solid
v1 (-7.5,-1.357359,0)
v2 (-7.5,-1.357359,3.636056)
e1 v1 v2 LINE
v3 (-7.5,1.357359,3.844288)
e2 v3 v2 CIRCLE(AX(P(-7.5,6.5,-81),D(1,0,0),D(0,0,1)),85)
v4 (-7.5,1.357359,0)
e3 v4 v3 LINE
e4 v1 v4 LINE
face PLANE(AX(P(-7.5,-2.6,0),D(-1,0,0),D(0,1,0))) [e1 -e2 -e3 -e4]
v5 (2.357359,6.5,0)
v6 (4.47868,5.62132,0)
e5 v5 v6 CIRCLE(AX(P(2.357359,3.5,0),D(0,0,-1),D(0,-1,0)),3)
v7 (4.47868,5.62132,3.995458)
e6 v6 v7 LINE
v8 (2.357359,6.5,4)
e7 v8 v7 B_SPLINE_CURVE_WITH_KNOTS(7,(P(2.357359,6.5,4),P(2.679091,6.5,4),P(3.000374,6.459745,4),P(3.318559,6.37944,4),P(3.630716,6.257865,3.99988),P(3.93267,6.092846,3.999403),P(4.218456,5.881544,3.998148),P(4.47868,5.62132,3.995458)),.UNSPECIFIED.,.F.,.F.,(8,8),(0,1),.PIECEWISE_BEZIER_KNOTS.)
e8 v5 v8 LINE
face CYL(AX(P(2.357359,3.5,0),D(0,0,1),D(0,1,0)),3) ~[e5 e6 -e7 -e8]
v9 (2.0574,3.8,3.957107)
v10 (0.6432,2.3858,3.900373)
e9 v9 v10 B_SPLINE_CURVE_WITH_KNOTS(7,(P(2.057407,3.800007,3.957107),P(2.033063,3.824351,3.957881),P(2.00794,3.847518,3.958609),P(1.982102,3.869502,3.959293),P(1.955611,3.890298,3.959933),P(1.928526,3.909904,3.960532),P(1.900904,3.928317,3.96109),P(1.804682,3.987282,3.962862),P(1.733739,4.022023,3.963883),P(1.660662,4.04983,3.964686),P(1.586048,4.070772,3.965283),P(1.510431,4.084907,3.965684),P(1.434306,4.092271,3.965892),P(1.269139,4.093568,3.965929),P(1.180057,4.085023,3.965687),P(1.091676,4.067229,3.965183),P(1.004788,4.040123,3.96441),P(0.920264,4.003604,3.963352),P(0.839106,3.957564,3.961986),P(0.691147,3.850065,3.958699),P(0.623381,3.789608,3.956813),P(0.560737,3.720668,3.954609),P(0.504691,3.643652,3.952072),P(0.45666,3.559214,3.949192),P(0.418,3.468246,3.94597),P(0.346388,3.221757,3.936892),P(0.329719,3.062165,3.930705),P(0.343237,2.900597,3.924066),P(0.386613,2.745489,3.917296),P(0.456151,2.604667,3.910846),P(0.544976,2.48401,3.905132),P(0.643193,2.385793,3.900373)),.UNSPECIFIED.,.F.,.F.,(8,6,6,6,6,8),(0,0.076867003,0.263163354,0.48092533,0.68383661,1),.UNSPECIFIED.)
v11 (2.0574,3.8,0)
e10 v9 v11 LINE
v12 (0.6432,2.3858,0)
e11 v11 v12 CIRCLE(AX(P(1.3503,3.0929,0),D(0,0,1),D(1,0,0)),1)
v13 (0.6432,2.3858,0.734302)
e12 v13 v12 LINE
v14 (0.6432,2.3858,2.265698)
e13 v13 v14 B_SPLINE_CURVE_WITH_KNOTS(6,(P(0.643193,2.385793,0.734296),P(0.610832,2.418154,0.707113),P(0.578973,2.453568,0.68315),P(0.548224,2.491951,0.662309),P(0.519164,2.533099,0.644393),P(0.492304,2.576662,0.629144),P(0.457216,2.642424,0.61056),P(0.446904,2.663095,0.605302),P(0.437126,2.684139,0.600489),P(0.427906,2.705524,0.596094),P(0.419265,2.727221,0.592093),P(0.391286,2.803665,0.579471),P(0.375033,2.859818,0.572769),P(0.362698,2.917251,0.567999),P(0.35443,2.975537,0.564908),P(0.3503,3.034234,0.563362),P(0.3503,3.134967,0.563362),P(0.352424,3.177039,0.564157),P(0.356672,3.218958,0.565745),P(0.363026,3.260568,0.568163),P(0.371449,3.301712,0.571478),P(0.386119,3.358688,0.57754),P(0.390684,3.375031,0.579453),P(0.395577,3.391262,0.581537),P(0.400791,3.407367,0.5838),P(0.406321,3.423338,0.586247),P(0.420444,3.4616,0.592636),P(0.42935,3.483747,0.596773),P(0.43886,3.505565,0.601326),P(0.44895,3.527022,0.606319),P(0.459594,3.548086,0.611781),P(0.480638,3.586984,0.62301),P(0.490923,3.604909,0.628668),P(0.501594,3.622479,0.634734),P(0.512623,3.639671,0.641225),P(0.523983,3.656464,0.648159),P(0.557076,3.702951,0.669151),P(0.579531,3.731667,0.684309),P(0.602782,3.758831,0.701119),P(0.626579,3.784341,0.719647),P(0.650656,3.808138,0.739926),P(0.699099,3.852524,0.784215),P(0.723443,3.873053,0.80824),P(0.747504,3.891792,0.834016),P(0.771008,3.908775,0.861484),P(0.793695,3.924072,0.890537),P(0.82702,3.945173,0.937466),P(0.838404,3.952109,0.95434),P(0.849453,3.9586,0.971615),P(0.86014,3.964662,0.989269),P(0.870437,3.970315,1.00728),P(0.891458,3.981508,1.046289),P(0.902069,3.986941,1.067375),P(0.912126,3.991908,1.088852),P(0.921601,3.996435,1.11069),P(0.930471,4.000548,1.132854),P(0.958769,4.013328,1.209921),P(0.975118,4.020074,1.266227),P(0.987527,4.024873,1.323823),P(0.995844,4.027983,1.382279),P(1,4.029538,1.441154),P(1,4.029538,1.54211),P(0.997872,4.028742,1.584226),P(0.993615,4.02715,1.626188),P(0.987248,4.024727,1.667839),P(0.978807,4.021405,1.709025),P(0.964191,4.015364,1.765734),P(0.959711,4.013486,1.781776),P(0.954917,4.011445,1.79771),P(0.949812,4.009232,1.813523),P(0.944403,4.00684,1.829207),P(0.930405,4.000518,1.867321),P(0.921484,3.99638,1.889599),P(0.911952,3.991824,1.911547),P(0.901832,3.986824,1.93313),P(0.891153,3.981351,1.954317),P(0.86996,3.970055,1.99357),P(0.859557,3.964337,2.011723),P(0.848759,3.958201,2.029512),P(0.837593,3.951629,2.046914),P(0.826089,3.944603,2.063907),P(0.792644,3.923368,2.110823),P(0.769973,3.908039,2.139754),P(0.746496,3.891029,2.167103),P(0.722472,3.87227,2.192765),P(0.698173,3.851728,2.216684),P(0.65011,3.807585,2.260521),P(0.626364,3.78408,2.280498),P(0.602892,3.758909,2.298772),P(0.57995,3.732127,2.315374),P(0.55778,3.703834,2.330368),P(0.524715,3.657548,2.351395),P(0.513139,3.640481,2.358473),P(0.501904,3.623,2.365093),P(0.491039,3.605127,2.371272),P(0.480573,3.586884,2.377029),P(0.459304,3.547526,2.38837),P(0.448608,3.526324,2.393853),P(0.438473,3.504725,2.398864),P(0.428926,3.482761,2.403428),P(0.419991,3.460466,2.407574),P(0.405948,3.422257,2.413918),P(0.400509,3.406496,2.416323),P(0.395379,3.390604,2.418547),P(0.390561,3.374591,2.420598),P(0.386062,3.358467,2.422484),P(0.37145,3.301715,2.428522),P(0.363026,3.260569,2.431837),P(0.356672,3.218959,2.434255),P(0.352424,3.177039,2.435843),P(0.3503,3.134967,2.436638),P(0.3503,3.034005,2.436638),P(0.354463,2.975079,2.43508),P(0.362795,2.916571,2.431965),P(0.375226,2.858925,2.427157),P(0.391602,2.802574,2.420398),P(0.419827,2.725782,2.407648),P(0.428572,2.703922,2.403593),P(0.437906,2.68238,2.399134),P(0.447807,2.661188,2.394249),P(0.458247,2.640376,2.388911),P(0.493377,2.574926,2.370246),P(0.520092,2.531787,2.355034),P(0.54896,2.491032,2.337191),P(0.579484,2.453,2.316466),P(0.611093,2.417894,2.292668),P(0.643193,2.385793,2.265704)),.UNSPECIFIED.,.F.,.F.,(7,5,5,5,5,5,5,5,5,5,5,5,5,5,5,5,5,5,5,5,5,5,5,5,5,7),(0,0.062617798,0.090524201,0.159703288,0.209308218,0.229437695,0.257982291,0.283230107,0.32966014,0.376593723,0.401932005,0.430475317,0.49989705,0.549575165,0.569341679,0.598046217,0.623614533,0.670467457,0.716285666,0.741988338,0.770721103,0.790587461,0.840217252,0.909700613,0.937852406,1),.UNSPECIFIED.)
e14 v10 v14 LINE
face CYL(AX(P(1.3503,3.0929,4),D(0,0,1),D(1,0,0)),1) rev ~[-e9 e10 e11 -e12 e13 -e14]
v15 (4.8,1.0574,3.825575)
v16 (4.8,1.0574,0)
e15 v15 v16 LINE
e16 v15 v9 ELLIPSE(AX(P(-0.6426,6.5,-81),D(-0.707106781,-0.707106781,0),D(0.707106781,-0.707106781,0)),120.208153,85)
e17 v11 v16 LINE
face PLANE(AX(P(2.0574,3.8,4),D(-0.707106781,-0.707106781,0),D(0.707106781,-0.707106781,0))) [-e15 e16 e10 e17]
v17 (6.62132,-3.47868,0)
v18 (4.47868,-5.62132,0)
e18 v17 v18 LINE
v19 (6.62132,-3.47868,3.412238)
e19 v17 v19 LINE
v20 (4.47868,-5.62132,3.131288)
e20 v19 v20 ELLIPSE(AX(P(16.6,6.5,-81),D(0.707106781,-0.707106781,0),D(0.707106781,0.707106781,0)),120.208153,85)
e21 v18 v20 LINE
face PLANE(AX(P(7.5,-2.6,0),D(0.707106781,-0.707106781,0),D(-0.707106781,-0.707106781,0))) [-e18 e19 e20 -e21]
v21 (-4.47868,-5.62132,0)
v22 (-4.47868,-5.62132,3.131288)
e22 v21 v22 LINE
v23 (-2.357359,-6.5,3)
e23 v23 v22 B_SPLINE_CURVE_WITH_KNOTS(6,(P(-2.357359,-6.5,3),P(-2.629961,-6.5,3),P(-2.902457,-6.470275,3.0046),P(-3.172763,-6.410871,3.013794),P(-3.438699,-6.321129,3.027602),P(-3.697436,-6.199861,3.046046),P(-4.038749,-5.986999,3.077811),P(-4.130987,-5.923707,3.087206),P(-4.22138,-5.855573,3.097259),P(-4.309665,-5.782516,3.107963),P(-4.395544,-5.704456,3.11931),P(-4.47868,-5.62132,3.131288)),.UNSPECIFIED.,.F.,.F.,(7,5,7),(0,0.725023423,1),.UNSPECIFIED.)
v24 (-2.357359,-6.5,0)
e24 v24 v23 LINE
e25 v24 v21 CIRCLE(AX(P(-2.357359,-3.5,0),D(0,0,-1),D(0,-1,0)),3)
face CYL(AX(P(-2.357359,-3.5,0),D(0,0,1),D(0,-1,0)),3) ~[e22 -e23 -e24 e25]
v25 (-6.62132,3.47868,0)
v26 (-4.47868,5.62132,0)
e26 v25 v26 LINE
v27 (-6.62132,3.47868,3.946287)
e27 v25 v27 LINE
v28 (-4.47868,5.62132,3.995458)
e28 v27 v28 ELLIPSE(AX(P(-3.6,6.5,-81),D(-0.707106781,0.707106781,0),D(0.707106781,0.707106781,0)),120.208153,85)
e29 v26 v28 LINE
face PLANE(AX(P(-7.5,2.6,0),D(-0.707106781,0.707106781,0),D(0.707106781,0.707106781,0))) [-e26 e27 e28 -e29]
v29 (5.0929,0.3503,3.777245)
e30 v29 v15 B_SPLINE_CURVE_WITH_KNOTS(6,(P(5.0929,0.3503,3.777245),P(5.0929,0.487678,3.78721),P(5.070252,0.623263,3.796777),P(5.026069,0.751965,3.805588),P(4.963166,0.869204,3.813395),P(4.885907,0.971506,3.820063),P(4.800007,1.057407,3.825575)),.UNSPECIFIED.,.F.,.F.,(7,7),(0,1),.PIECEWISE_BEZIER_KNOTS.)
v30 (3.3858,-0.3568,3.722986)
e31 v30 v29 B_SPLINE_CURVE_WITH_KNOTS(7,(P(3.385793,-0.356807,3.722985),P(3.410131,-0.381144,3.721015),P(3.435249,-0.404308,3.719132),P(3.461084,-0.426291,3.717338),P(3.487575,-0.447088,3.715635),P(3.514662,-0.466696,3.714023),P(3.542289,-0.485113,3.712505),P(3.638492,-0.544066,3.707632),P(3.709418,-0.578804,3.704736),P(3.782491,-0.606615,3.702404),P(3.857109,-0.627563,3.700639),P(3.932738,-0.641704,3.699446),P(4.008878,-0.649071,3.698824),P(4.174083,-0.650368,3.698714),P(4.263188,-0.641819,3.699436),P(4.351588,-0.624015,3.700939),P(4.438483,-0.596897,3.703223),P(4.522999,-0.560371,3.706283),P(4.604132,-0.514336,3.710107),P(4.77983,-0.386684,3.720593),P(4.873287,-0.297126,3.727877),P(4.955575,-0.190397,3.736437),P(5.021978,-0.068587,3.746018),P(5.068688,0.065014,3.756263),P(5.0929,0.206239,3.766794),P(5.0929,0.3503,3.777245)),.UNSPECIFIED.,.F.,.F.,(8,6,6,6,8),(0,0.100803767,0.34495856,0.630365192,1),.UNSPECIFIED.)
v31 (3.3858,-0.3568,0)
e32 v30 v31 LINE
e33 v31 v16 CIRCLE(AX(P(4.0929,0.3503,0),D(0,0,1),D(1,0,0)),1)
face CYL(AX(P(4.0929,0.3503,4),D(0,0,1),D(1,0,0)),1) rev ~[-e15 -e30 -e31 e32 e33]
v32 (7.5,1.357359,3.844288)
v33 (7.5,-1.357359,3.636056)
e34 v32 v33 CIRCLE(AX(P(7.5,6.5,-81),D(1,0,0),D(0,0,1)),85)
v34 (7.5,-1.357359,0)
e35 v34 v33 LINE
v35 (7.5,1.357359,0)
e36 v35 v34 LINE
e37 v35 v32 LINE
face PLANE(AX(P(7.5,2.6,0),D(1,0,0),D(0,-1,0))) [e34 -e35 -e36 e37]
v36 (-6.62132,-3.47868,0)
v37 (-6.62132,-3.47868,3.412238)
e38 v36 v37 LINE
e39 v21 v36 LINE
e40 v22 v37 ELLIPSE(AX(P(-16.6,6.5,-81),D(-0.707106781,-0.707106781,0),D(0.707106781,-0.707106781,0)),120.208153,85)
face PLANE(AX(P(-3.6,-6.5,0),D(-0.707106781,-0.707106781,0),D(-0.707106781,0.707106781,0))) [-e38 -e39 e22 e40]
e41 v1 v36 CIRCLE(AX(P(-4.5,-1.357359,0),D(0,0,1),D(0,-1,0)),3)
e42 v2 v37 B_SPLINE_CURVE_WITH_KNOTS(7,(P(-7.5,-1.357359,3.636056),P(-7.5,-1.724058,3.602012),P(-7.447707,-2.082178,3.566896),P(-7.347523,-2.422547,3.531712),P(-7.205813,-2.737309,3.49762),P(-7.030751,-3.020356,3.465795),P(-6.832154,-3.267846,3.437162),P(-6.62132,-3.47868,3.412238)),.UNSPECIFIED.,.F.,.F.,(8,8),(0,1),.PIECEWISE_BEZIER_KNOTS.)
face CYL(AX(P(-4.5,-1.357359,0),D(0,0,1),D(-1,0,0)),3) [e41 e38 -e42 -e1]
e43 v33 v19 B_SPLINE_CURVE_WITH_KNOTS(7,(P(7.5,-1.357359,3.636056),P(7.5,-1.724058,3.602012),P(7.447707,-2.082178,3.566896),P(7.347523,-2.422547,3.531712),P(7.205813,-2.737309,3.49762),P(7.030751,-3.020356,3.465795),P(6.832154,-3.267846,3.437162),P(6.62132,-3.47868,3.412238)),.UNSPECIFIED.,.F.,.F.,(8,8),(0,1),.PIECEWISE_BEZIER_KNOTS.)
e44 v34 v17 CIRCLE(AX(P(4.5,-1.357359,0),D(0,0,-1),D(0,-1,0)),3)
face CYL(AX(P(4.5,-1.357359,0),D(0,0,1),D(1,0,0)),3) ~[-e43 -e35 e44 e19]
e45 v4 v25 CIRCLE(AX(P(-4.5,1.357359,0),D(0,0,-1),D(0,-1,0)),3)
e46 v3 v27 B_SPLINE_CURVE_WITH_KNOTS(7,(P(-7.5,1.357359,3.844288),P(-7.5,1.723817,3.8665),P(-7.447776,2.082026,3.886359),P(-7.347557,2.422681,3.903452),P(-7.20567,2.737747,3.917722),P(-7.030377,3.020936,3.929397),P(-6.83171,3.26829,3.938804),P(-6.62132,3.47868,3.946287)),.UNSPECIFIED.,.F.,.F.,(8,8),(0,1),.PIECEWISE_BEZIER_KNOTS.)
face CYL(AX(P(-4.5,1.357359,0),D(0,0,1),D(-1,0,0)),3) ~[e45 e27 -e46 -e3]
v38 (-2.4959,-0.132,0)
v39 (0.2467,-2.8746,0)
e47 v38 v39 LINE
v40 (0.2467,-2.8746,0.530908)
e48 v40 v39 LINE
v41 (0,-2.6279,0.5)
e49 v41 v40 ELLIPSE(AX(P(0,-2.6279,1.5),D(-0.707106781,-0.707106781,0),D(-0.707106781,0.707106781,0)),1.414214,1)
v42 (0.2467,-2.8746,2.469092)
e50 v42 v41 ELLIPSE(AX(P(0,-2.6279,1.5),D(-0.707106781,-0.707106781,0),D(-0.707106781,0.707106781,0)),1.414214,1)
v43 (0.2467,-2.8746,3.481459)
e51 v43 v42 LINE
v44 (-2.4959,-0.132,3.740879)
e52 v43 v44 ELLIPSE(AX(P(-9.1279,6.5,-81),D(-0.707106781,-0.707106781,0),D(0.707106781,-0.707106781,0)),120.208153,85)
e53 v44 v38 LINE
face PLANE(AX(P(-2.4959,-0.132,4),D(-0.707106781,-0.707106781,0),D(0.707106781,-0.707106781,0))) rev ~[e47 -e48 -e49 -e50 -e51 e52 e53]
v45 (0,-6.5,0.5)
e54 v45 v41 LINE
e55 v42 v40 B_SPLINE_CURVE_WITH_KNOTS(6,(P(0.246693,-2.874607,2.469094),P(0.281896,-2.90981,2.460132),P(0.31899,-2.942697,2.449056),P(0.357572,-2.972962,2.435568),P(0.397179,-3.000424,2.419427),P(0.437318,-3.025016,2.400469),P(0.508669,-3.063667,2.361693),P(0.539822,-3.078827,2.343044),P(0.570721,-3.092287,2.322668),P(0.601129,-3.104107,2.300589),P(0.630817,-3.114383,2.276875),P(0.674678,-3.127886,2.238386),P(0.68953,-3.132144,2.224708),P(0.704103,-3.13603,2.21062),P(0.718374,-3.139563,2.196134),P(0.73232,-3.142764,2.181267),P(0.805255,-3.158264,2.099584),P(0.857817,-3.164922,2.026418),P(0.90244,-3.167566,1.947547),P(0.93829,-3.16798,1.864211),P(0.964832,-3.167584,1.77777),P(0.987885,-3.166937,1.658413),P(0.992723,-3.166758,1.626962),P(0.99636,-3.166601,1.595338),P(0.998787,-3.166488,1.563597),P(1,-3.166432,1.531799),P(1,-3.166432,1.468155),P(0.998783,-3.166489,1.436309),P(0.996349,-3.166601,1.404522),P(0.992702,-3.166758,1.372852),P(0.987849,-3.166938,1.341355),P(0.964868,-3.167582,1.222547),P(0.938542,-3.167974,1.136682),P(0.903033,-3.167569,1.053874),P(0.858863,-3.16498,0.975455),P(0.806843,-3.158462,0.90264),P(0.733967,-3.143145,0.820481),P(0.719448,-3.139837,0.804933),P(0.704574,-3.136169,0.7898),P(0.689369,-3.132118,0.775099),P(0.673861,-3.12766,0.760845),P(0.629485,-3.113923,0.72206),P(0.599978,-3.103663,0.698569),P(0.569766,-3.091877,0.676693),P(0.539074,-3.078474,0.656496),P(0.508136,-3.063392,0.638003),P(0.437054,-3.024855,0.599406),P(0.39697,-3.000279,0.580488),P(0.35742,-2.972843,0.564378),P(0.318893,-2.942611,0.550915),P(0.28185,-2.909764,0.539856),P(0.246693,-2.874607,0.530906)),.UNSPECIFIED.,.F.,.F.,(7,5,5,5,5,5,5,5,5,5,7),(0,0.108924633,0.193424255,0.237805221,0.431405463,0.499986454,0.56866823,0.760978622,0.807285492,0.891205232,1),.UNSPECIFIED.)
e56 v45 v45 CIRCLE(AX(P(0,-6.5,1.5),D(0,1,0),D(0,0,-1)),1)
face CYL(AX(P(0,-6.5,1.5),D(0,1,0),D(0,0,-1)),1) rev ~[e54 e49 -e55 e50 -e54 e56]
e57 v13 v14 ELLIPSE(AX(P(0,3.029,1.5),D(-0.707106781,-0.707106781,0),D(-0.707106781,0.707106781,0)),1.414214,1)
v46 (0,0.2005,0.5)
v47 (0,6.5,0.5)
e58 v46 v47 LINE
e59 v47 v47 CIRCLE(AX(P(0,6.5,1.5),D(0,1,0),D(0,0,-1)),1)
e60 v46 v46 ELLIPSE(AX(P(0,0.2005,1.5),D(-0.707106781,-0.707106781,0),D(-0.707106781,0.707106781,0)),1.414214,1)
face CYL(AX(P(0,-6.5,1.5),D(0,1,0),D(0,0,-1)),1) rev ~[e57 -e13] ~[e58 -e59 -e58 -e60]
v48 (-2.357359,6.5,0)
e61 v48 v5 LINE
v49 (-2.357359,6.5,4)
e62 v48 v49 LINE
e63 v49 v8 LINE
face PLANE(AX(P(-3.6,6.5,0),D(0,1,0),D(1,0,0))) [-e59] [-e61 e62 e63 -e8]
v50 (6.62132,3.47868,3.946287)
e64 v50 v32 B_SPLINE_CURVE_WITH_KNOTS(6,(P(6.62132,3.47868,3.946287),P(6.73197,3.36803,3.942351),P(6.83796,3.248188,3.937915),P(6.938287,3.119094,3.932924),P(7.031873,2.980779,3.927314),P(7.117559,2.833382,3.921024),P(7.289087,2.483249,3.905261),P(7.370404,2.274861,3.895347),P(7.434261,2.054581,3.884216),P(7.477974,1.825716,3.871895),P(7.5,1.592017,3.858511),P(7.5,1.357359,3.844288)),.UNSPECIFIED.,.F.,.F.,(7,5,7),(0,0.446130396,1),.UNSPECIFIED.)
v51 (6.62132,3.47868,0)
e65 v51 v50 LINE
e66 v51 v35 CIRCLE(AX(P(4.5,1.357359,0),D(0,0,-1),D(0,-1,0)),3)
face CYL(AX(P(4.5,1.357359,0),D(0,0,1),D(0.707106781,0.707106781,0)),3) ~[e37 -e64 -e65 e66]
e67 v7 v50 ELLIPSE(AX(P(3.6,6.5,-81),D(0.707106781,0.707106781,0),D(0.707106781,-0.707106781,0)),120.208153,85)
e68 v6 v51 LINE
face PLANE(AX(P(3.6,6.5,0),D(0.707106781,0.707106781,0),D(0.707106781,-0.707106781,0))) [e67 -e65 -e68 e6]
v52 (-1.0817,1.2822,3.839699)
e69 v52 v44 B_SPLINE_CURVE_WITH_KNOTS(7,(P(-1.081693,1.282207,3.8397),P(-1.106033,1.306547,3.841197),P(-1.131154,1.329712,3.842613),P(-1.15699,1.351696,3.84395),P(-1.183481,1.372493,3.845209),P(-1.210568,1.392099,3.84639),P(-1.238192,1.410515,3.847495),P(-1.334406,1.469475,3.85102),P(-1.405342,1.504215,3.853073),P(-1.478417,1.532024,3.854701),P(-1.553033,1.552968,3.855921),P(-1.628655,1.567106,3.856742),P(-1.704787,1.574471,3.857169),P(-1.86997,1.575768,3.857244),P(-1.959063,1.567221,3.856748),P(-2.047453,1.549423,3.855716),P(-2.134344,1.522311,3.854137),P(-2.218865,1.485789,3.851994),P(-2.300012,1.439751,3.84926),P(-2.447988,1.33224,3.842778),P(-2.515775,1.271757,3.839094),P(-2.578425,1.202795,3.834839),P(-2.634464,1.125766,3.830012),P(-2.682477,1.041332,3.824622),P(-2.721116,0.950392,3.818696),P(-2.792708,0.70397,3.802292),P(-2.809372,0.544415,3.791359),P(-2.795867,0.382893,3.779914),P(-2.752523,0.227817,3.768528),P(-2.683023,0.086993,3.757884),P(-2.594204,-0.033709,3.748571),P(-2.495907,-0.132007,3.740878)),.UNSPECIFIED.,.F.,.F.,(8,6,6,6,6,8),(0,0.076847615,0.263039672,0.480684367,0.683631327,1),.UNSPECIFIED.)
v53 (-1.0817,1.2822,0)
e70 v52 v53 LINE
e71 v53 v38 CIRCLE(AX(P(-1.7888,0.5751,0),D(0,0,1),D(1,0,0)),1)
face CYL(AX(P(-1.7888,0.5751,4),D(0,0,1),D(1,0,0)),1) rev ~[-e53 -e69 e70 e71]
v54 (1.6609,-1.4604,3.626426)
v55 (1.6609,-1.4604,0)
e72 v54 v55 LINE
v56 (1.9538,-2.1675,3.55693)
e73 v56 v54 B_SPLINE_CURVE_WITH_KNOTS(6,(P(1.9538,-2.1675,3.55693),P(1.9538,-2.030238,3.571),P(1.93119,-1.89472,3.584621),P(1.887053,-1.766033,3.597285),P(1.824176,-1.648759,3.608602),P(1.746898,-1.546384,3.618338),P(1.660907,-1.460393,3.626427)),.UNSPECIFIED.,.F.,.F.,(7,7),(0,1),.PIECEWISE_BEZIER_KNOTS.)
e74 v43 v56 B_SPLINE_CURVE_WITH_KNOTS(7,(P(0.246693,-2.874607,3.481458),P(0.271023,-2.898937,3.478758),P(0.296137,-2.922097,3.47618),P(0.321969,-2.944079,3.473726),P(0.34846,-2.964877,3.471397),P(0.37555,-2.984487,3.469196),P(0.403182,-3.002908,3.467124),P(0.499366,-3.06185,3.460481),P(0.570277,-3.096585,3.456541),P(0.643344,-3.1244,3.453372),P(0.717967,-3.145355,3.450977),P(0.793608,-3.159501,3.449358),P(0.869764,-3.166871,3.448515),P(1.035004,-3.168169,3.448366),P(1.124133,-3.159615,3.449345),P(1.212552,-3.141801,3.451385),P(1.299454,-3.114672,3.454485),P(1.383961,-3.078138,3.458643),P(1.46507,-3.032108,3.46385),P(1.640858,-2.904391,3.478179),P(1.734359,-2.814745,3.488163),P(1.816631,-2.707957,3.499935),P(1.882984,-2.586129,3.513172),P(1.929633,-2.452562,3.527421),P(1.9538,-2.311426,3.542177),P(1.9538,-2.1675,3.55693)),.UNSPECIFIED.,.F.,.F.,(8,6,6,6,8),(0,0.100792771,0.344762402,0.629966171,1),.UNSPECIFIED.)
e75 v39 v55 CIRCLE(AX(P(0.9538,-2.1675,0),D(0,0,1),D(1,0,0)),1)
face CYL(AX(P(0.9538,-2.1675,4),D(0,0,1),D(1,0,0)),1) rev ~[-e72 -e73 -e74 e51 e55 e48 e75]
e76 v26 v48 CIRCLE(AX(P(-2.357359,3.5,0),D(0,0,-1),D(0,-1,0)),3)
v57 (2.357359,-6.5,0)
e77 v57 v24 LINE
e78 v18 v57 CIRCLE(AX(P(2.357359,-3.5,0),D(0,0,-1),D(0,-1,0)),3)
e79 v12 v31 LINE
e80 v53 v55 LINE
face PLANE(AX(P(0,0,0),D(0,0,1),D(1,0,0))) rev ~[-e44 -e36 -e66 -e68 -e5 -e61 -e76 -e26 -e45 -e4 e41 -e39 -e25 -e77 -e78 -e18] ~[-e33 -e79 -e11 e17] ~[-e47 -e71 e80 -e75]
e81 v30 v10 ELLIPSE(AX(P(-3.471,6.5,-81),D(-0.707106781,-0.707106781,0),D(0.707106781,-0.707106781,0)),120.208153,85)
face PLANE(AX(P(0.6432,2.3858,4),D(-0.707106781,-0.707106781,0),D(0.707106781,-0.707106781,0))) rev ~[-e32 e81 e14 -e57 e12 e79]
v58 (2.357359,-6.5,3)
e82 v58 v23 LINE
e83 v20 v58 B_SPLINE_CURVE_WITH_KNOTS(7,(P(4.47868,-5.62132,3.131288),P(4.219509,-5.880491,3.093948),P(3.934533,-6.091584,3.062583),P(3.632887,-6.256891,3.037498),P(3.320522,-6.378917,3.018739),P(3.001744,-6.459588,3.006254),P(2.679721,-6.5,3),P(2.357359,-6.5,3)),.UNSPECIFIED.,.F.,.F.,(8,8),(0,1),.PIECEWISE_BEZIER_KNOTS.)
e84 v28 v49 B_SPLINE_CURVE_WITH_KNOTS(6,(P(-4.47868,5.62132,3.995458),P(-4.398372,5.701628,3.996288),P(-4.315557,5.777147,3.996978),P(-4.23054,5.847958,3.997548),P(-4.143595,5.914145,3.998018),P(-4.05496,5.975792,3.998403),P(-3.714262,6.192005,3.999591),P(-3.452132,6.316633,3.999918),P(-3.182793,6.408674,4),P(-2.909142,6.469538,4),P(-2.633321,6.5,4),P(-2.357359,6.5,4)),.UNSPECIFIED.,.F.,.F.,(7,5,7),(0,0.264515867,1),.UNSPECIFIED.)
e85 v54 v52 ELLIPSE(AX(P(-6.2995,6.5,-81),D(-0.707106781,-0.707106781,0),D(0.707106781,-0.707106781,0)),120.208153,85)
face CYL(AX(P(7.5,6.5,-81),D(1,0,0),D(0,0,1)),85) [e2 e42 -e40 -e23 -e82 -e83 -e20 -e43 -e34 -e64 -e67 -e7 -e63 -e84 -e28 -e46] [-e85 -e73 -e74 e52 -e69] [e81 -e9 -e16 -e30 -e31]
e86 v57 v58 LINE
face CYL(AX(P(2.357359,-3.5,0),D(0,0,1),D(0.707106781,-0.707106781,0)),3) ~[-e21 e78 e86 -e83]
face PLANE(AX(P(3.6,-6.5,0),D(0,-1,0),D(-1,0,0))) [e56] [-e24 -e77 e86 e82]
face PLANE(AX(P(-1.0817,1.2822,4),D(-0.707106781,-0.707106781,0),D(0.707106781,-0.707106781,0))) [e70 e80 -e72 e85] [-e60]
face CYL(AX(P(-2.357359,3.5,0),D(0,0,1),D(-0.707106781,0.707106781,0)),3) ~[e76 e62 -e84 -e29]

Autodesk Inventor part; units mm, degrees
ref_plane "YZ Plane" through (0, 0, 0) normal (1, 0, 0) x (0, 1, 0)
ref_plane "XZ Plane" through (0, 0, 0) normal (0, 1, 0) x (-1, 0, 0)
ref_plane "XY Plane" through (0, 0, 0) normal (0, 0, 1) x (1, 0, 0)
sketch "Base" plane through (0, 0, 0) normal (0, 0, 1) x (1, 0, 0)
  line L0 (-7.5, -2.6) -> (-7.5, 2.6)
  line L1 (-7.5, 2.6) -> (-3.6, 6.5)
  line L2 (-3.6, 6.5) -> (3.6, 6.5)
  line L3 (3.6, 6.5) -> (7.5, 2.6)
  line L4 (7.5, 2.6) -> (7.5, -2.6)
  line L5 (7.5, -2.6) -> (3.6, -6.5)
  line L6 (3.6, -6.5) -> (-3.6, -6.5)
  line L7 (-3.6, -6.5) -> (-7.5, -2.6)
  line L8 (-7.5, 0) -> (7.5, 0) construction
  line L9 (0, 6.5) -> (0, -6.5) construction
  point P0 (0, 0)
  point P1 (0, 0)
  dimension "d1" = 15
  dimension "d5" = 13
  dimension "d7" = 5.2
extrude "BaseFeature" add sketch "Base" along normal blind 4
fillet "BaseFilletsFeature" radius 3 8 edges at (-7.5, -2.6, 2) (-3.6, -6.5, 2) (3.6, -6.5, 2) (7.5, -2.6, 2) (7.5, 2.6, 2) (3.6, 6.5, 2) (-3.6, 6.5, 2) (-7.5, 2.6, 2)
sketch "RailHoles" plane through (0, 0, 4) normal (0, 0, 1) x (1, 0, 0)
  line L0 (1.3503, 3.0929) -> (4.0929, 0.3503) construction
  line L1 (-1.7888, 0.5751) -> (0.9538, -2.1675) construction
  line L2 (6.6213, 3.4787) -> (4.4787, 5.6213) construction
  line L3 (5.55, 4.55) -> (2.7216, 1.7216) construction
  circle A0 centre (1.3503, 3.0929) radius 1
  circle A1 centre (4.0929, 0.3503) radius 1
  circle A2 centre (-1.7888, 0.5751) radius 1
  circle A3 centre (0.9538, -2.1675) radius 1
  line L4 (2.0574, 3.8) -> (4.8, 1.0574)
  line L5 (0.6432, 2.3858) -> (3.3858, -0.3568)
  line L6 (-1.0817, 1.2822) -> (1.6609, -1.4604)
  line L7 (-2.4959, -0.132) -> (0.2467, -2.8746)
  dimension "d11" = 4
  dimension "d12" = 4
  dimension "d13" = 3.8786
  dimension "d14" = 2
  dimension "d15" = 1.5
  dimension "d25" = 3.0301
extrude "RailHolesFeature" cut sketch "RailHoles" against normal through all
sketch "RouteHole" plane through (-2.3574, -6.5, 0) normal (0, -1, 0) x (1, 0, 0)
  line L0 (4.7147, 4) -> (4.7147, 0) construction
  line L1 (0, 4) -> (4.7147, 4) construction
  line L2 (0, 0) -> (0, 4) construction
  line L3 (4.7147, 0) -> (0, 0) construction
  line L4 (0, 4) -> (0, 0) construction
  line L5 (0, 4) -> (4.7147, 4) construction
  line L6 (2.3574, 4) -> (2.3574, 0) construction
  line L7 (4.7147, 0) -> (0, 0) construction
  circle A0 centre (2.3574, 1.5) radius 1.25
  dimension "d40" = 2.5
  dimension "d41" = 1.5
hole "RouteHoleFeature" at (0, -6.5, 1.5) direction (0, 1, 0) diameter 2 end through all
sketch "SideProfile" plane through (7.5, -1.3574, 0) normal (1, 0, 0) x (0, 0, -1)
  arc A0 (-4, 7.8574) -> (-3, -5.1426) centre (81, 7.8574) ccw
  line L0 (-4, -5.1426) -> (0, -5.1426) construction
  line L1 (0, 7.8574) -> (-4, 7.8574) construction
  line L2 (-3, -5.1426) -> (0, -5.1426)
  line L3 (0, 7.8574) -> (0, -5.1426)
  line L4 (0, 7.8574) -> (0, 6.9787) projected
  line L5 (0, 7.8574) -> (-4, 7.8574)
  line L6 (-4, -2.1213) -> (-4, 0) construction
  dimension "d36" = 4
  dimension "d39" = 3
extrude "SideProfileFeature" cut sketch "SideProfile" against normal through all keep common part
equation "\"d7\" = 0.4 * d5"
equation "\"d12\" = 2 * d14"
equation "\"d13\" = 1.28 * d25"
properties part number "RingRouter"
